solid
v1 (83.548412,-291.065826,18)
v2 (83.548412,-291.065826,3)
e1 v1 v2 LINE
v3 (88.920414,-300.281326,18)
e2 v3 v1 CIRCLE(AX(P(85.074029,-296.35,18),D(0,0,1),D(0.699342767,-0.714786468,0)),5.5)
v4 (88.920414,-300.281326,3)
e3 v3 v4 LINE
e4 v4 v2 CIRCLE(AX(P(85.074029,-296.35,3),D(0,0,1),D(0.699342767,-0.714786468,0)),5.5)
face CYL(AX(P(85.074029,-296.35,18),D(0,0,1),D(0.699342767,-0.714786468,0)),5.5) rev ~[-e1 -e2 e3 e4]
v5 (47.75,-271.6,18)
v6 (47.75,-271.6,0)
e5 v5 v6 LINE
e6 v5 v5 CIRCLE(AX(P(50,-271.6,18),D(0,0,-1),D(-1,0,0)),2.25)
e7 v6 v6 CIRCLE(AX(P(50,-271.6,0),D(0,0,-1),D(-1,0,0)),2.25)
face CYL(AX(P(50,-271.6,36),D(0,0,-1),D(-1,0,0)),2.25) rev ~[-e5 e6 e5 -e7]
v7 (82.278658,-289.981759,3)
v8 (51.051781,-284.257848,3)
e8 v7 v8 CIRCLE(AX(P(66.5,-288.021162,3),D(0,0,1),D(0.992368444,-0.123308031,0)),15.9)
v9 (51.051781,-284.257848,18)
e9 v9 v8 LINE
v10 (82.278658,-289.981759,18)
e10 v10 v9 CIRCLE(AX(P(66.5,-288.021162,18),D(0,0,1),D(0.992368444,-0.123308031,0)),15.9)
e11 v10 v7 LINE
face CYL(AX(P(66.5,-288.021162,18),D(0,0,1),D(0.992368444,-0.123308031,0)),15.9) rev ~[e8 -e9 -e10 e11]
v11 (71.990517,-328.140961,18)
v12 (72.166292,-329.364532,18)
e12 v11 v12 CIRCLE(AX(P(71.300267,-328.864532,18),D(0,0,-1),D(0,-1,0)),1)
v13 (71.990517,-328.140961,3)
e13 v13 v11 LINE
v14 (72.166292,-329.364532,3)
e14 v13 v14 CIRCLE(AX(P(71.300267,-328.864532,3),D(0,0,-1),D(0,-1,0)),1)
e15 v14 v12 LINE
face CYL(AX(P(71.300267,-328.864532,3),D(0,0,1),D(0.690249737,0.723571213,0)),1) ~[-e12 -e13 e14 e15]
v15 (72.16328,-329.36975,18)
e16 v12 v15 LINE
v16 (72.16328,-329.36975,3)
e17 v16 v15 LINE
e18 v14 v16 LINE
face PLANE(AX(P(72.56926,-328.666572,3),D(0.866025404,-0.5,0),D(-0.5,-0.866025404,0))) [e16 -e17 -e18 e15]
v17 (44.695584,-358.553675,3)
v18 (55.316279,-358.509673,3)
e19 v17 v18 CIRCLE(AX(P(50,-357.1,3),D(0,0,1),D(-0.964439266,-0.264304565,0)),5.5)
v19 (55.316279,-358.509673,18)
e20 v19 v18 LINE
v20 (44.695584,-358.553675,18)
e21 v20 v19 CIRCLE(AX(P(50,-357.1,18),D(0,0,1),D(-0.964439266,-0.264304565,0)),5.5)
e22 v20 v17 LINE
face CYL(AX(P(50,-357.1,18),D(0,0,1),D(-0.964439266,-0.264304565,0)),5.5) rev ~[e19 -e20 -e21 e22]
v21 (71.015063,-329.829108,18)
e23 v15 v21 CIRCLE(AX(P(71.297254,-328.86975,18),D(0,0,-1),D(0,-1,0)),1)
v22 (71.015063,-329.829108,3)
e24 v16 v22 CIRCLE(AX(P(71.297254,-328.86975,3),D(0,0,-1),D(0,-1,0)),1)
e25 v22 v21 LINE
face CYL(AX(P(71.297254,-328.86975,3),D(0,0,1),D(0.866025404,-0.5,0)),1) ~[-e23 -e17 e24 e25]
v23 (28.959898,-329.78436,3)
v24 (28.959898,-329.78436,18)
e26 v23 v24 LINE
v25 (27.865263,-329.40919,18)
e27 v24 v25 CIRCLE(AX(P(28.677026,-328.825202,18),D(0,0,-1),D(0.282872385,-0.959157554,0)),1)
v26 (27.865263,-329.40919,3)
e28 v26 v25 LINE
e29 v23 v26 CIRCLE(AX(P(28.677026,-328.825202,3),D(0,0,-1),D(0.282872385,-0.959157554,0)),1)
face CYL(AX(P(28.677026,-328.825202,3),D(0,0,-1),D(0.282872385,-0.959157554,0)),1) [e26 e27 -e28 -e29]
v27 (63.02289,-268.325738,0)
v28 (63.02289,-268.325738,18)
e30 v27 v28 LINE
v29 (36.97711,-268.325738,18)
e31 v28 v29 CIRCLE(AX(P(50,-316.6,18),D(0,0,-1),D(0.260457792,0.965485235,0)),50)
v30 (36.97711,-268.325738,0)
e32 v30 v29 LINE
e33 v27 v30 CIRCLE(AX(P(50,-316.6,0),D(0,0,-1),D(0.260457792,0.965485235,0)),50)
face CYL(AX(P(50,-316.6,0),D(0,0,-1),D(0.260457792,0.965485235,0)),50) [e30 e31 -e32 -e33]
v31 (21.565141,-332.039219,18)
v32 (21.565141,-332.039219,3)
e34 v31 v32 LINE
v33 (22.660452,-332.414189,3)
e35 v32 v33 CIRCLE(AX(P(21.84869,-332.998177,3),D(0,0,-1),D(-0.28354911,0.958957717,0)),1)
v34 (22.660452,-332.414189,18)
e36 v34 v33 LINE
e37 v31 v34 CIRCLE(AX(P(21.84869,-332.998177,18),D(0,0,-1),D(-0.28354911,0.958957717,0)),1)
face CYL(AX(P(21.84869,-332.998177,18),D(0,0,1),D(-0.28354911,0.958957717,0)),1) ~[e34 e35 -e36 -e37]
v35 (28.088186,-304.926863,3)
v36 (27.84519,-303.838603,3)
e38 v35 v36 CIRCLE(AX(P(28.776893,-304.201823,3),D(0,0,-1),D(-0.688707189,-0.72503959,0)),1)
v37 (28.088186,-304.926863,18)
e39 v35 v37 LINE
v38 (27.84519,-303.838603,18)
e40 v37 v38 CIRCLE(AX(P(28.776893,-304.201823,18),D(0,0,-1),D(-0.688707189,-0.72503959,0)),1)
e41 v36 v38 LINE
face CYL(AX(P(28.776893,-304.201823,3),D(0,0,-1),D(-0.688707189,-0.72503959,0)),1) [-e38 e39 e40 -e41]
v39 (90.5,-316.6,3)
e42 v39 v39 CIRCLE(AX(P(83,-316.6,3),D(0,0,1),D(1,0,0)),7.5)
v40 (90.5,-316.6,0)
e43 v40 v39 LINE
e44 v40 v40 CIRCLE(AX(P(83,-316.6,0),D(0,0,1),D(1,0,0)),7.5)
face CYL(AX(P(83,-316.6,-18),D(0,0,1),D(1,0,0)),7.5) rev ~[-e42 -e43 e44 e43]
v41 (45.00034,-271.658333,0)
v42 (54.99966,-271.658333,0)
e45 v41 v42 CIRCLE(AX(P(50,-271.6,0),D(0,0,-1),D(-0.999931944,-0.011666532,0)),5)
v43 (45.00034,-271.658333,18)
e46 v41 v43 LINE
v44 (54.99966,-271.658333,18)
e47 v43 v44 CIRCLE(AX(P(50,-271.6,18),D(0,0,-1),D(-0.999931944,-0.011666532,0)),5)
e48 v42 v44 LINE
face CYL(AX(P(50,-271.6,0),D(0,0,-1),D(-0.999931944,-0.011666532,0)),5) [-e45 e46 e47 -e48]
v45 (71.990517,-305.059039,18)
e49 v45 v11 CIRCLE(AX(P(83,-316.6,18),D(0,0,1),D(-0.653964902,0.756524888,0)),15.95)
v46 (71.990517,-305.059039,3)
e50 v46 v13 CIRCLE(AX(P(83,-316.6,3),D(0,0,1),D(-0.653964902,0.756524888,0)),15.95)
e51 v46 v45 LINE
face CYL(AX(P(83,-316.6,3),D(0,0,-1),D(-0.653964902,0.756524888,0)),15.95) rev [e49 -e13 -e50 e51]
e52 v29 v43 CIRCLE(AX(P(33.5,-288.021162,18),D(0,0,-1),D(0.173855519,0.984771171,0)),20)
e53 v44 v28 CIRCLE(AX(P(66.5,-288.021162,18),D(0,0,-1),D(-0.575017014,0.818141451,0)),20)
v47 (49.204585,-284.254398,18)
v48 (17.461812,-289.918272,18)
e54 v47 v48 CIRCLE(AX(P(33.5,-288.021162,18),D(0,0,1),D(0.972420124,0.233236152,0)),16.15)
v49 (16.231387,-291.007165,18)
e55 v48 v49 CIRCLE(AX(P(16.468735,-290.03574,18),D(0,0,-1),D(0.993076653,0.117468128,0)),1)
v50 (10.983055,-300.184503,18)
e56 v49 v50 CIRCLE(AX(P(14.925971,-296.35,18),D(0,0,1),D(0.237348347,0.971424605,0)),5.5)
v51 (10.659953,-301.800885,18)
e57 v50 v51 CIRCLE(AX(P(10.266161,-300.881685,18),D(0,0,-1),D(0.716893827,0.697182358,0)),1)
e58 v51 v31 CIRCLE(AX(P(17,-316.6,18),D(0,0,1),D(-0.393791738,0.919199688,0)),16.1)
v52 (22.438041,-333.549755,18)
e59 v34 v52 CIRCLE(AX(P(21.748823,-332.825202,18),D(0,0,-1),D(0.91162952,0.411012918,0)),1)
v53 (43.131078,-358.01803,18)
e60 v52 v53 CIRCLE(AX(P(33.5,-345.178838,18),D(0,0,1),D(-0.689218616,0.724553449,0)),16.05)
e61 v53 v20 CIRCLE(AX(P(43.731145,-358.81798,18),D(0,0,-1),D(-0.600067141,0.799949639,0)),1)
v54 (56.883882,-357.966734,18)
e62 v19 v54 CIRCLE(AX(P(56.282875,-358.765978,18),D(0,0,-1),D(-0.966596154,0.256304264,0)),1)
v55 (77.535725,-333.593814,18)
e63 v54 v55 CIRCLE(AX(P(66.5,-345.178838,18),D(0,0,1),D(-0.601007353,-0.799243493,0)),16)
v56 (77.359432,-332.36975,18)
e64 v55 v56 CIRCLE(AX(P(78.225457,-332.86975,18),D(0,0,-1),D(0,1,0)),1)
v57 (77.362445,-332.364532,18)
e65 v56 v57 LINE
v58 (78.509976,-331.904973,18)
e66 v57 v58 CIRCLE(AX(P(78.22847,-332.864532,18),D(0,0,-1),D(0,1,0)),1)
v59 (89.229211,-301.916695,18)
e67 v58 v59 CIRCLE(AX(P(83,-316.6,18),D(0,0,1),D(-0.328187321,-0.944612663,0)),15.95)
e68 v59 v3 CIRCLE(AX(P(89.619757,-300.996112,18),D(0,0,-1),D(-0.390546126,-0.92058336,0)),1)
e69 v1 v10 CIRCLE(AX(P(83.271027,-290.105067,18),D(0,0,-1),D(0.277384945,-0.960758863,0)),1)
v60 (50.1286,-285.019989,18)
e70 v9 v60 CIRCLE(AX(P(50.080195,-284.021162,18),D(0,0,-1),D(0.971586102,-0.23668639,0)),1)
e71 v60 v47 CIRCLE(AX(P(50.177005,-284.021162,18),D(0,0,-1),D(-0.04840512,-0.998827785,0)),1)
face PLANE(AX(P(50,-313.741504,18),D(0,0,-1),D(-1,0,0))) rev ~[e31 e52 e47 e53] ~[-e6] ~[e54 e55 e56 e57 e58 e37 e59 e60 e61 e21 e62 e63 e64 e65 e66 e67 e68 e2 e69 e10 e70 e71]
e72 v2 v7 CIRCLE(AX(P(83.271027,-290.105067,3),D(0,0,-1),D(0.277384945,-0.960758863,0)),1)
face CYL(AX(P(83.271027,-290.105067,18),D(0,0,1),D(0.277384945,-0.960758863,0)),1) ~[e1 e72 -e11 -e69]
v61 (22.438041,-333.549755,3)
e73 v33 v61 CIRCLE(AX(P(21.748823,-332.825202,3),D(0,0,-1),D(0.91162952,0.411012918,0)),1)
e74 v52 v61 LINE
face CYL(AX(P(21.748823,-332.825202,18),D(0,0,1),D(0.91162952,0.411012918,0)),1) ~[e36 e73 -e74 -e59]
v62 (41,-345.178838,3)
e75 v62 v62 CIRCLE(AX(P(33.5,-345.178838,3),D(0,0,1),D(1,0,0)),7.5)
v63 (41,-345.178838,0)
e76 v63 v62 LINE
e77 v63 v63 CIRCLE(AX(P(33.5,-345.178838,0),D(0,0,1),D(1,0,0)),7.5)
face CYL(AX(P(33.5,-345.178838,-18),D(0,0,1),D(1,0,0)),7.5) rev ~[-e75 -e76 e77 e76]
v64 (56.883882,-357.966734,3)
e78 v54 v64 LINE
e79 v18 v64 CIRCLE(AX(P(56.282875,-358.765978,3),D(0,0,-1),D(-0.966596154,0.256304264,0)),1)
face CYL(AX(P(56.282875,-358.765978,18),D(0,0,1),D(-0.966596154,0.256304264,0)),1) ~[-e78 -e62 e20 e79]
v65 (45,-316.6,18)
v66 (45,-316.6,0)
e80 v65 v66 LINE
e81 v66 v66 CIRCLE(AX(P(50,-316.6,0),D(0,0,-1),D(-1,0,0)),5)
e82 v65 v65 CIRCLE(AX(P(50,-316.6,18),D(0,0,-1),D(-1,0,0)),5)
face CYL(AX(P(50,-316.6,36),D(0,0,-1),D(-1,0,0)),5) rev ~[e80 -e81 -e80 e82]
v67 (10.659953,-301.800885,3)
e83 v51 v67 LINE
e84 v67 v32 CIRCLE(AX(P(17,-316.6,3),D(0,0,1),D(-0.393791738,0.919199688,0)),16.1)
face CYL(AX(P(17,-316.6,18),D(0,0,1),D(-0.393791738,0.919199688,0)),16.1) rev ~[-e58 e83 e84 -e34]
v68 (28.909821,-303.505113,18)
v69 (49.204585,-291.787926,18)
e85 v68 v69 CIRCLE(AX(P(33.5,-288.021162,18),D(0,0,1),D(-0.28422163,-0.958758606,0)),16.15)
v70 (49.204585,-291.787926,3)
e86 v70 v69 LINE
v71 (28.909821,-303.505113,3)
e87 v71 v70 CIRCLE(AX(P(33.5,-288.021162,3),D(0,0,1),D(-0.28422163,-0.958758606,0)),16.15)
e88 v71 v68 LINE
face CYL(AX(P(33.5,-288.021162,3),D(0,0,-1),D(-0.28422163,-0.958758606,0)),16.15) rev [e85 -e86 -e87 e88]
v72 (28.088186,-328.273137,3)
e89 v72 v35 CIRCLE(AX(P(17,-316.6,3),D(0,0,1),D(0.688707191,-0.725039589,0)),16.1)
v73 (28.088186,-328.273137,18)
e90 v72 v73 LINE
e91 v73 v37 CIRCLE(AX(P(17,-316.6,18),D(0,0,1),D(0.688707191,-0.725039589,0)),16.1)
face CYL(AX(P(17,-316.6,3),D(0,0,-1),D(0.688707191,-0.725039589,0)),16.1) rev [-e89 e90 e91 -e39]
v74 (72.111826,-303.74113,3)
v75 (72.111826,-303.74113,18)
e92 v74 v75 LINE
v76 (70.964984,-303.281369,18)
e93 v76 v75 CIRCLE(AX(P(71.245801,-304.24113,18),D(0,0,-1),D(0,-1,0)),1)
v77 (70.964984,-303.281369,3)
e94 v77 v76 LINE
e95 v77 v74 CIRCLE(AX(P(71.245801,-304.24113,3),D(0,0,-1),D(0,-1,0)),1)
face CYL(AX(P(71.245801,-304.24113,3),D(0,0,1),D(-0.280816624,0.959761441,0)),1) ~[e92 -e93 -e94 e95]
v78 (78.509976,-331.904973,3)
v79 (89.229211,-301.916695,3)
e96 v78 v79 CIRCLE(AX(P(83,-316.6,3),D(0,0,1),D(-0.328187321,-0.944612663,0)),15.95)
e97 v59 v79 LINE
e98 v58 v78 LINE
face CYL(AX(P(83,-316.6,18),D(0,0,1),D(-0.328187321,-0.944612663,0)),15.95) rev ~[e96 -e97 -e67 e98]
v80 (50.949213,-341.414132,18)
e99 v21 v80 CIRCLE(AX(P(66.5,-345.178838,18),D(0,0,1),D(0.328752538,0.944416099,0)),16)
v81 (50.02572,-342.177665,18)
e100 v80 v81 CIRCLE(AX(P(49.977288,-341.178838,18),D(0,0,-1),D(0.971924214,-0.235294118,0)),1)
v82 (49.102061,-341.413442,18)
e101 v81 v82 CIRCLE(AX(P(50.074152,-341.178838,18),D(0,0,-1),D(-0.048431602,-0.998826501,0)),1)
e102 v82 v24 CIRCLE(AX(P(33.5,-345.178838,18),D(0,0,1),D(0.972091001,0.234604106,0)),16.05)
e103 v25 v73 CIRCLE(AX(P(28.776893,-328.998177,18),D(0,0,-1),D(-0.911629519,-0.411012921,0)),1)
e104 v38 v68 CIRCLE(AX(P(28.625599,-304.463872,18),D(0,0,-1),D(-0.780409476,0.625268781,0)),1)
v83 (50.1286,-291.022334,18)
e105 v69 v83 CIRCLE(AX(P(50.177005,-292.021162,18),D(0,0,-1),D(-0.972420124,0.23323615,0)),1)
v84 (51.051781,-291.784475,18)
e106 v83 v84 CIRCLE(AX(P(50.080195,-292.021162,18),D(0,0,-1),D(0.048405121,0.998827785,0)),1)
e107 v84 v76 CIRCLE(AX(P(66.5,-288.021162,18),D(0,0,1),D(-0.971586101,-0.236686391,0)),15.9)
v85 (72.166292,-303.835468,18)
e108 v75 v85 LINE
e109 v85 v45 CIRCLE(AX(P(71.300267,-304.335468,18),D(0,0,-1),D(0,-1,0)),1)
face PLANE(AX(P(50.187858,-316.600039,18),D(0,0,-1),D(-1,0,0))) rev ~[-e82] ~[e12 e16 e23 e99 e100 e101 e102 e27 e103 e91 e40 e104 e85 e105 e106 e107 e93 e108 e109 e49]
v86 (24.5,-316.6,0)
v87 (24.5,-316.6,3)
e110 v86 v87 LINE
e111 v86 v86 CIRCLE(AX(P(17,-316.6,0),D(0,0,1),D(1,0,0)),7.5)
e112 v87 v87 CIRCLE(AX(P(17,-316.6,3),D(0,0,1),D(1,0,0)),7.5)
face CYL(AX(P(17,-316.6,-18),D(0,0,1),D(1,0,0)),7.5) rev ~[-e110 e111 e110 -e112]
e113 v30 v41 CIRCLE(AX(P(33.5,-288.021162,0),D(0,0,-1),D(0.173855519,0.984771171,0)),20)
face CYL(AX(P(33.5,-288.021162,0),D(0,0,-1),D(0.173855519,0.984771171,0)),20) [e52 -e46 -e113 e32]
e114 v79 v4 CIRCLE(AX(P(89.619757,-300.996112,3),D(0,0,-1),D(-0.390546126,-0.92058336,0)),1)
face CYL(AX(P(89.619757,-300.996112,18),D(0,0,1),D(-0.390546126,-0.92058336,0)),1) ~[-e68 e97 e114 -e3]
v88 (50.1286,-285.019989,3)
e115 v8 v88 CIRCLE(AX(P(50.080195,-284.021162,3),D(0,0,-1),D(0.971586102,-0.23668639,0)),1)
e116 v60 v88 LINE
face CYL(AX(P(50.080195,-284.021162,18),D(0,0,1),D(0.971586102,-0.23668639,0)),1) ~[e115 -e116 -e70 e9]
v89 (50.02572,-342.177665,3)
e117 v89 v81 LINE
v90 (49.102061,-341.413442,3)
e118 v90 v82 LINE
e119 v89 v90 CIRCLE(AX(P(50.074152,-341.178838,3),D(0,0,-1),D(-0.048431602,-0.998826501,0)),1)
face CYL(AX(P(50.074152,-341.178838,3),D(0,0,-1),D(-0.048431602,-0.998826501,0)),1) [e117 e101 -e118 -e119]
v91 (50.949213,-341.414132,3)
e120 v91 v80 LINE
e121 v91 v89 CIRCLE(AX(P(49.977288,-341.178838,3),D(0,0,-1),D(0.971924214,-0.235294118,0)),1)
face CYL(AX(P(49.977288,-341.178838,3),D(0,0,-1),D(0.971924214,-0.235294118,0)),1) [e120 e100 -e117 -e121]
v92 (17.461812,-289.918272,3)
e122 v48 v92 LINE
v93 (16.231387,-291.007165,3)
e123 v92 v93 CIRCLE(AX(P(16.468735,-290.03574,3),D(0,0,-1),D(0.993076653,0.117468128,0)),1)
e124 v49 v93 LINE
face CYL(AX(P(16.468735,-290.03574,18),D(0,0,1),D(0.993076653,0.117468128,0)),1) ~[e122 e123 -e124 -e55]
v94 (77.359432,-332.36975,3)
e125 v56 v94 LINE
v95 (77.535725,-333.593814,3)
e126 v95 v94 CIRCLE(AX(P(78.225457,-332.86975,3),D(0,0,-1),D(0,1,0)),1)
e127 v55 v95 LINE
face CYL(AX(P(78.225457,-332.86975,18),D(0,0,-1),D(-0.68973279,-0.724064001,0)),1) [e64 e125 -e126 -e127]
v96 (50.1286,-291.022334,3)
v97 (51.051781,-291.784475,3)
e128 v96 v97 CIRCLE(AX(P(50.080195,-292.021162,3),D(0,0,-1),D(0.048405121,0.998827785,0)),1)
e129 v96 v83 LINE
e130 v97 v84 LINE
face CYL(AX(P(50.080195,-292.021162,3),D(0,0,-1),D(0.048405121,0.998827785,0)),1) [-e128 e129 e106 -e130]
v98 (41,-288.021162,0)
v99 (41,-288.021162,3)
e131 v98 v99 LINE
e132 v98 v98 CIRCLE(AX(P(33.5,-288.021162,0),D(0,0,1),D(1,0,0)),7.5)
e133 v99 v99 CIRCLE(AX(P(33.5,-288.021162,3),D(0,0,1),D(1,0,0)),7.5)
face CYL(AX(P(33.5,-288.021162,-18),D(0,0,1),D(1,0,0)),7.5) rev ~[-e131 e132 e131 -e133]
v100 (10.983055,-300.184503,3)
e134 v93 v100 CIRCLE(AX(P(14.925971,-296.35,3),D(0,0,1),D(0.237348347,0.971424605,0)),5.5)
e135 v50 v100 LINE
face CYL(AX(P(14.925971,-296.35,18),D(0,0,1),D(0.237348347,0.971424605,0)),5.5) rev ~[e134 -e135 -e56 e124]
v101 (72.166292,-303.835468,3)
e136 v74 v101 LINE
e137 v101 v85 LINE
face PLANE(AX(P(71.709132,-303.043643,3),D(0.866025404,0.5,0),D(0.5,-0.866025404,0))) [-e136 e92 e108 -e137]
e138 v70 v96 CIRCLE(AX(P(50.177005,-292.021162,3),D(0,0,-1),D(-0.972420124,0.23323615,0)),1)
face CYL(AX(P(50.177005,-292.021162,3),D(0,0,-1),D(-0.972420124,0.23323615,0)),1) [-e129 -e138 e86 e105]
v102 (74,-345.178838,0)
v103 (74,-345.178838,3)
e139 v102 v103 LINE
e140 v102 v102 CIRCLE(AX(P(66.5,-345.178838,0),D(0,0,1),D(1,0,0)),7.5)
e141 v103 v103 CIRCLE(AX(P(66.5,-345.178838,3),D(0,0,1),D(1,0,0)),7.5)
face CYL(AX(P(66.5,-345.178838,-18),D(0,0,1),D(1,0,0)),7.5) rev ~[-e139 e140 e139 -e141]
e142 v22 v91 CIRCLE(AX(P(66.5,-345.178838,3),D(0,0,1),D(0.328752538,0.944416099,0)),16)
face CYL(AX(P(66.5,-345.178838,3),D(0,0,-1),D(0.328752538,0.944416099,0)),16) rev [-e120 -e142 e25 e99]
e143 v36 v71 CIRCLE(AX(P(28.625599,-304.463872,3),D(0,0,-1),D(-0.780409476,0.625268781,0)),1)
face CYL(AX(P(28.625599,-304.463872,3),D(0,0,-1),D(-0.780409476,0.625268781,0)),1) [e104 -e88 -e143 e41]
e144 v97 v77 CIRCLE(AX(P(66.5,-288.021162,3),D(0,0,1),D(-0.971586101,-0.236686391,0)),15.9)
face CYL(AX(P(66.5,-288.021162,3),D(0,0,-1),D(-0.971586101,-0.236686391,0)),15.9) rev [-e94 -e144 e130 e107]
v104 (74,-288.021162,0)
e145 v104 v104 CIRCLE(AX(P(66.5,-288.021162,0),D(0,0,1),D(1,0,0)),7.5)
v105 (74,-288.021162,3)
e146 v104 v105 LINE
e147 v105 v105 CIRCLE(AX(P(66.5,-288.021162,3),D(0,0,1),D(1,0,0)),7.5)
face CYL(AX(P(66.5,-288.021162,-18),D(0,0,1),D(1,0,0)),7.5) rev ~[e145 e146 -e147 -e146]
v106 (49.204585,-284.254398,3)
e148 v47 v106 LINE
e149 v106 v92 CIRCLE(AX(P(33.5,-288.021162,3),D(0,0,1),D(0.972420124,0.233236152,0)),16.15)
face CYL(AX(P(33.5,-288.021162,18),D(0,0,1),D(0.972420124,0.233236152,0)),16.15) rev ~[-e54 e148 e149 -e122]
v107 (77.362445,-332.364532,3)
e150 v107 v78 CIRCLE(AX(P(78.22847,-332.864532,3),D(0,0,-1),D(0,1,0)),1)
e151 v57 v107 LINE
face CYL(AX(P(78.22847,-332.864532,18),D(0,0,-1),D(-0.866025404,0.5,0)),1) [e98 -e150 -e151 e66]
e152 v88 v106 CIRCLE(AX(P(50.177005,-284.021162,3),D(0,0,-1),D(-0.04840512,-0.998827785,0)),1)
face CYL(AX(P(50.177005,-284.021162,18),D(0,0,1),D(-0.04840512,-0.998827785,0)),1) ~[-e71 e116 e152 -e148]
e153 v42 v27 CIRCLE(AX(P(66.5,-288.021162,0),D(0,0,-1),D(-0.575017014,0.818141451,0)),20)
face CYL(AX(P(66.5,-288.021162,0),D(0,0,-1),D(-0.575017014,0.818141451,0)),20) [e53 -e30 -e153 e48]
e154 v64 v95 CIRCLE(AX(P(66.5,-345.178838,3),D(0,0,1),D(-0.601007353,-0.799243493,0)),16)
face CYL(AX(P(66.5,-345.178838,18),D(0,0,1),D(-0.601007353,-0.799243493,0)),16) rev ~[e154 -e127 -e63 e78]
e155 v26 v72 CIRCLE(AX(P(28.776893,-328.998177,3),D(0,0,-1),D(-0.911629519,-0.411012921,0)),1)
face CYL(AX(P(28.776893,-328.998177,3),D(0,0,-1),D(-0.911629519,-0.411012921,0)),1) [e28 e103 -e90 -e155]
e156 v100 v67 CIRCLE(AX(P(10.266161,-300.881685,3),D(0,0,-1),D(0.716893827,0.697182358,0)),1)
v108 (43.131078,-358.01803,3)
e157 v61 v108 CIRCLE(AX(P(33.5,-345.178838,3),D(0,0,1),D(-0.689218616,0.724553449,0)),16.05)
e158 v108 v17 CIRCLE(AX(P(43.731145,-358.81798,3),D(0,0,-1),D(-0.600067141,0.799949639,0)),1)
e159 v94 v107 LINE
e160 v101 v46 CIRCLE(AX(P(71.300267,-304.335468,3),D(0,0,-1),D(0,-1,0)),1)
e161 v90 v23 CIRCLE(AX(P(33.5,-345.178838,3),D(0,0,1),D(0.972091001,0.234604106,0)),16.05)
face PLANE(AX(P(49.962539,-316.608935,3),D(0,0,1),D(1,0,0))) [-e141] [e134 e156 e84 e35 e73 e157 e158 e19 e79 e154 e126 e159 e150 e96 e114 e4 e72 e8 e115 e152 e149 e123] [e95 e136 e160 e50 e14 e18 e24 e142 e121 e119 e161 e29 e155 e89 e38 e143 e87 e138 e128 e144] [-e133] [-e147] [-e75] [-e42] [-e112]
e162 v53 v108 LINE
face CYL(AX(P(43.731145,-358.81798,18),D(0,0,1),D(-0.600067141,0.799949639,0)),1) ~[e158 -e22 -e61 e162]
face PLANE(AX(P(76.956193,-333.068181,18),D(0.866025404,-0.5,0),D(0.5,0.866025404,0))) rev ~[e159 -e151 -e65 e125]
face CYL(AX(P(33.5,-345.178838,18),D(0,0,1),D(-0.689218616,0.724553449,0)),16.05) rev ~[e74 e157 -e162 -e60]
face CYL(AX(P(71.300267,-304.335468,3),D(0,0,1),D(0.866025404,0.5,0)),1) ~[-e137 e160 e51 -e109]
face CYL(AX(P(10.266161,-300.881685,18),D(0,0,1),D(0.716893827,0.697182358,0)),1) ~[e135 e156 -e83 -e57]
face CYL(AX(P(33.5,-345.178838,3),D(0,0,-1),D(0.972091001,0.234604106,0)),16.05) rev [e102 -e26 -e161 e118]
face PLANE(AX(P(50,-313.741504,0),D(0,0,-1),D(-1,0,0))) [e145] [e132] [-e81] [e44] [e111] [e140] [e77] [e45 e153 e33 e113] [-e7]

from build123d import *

# Parameters (mm, degrees)
EXTRUDE_1_DEPTH             = 18
CUT_EXTRUDE_1_DEPTH         = 15
EXTRUDE_2_DEPTH             = 15
HOLE_WIZARD_4_5_4_5_1_D     = 4.5
HOLE_WIZARD_4_5_4_5_1_DEPTH = 18
HOLE_WIZARD_10_0_10_1_D     = 10
HOLE_WIZARD_10_0_10_1_DEPTH = 18
HOLE_WIZARD_15_0_15_1_D     = 15
HOLE_WIZARD_15_0_15_1_DEPTH = 18
FILLET_1_R                  = 1


with BuildPart() as part:
    # 草图1 → 凸台-拉伸1 (new body)
    with BuildSketch(Plane(origin=(0, 0, 0), x_dir=(-1, 0, 0), z_dir=(0, 0, -1))):
        with BuildLine():
            ThreePointArc((-63.022889612, -268.325738264), (-50, -366.6), (-36.977110388, -268.325738264))
            ThreePointArc((-36.977110388, -268.325738264), (-41.171867667, -269.55111981), (-45.000340281, -271.658332659))
            ThreePointArc((-45.000340281, -271.658332659), (-50, -266.6), (-54.999659719, -271.658332659))
            ThreePointArc((-54.999659719, -271.658332659), (-58.828132333, -269.55111981), (-63.022889612, -268.325738264))
        make_face()
    extrude(amount=-EXTRUDE_1_DEPTH)

    # 草图2 → 切除-拉伸1 (cut)
    with BuildSketch(Plane.XY.offset(18)):
        with BuildLine():
            Line((76.956193034, -333.068180736), (77.765412233, -331.666571969))
            ThreePointArc((77.765412233, -331.666571969), (97.88324923, -322.335101774), (89.229210711, -301.916695402))
            ThreePointArc((89.229210711, -301.916695402), (88.637121061, -301.181657), (88.92041407, -300.281325574))
            ThreePointArc((88.92041407, -300.281325574), (89.825644155, -293.580135017), (83.548411657, -291.065826255))
            ThreePointArc((83.548411657, -291.065826255), (82.62171892, -290.865593126), (82.278658267, -289.981759362))
            ThreePointArc((82.278658267, -289.981759362), (69.366720715, -272.381727147), (51.051780987, -284.257848066))
            ThreePointArc((51.051780987, -284.257848066), (50.716834815, -284.792322878), (50.128600006, -285.01998946))
            ThreePointArc((50.128600006, -285.01998946), (49.538997539, -284.791191751), (49.204585003, -284.254397827))
            ThreePointArc((49.204585003, -284.254397827), (30.663154881, -272.122268325), (17.461812053, -289.918271942))
            ThreePointArc((17.461812053, -289.918271942), (17.131459448, -290.784603767), (16.231387053, -291.007164675))
            ThreePointArc((16.231387053, -291.007164675), (10.151561622, -293.619612904), (10.9830551, -300.184502973))
            ThreePointArc((10.9830551, -300.184502973), (11.246762281, -301.077699779), (10.659953012, -301.80088502))
            ThreePointArc((10.659953012, -301.80088502), (1.85480976, -322.061978817), (21.565140626, -332.039219251))
            ThreePointArc((21.565140626, -332.039219251), (22.17257693, -332.052081262), (22.660452123, -332.414189106))
            ThreePointArc((22.660452123, -332.414189106), (22.73017699, -333.017409123), (22.438041219, -333.549755475))
            ThreePointArc((22.438041219, -333.549755475), (21.244961438, -355.543032932), (43.131077631, -358.018030031))
            ThreePointArc((43.131077631, -358.018030031), (44.05505938, -357.871893349), (44.695584039, -358.553675105))
            ThreePointArc((44.695584039, -358.553675105), (50.022786366, -362.599952798), (55.316278846, -358.509673449))
            ThreePointArc((55.316278846, -358.509673449), (55.955599054, -357.821048903), (56.883882353, -357.966734219))
            ThreePointArc((56.883882353, -357.966734219), (78.956360747, -355.220704534), (76.956193034, -333.068180736))
        make_face()
    extrude(amount=-CUT_EXTRUDE_1_DEPTH, mode=Mode.SUBTRACT)

    # 草图3 → 凸台-拉伸2 (add)
    with BuildSketch(Plane.XY.offset(3)):
        with BuildLine():
            Line((71.709131996, -303.043642956), (72.56925981, -304.533428031))
            ThreePointArc((72.56925981, -304.533428031), (67.05, -316.6), (72.56925981, -328.666571969))
            Line((72.56925981, -328.666571969), (71.760040611, -330.068180736))
            ThreePointArc((71.760040611, -330.068180736), (58.841180082, -331.130974521), (50.949212572, -341.414132443))
            ThreePointArc((50.949212572, -341.414132443), (50.614490777, -341.949534813), (50.02571996, -342.177664826))
            ThreePointArc((50.02571996, -342.177664826), (49.436675631, -341.949308595), (49.102060561, -341.41344243))
            ThreePointArc((49.102060561, -341.41344243), (41.525, -331.279130594), (28.959898219, -329.78435958))
            ThreePointArc((28.959898219, -329.78435958), (28.35280487, -329.771183403), (27.865263445, -329.409189888))
            ThreePointArc((27.865263445, -329.409189888), (27.79560645, -328.805623655), (28.088185773, -328.273137379))
            ThreePointArc((28.088185773, -328.273137379), (33.1, -316.6), (28.088185773, -304.926862621))
            ThreePointArc((28.088185773, -304.926862621), (27.800926844, -304.419745345), (27.845189576, -303.838602992))
            ThreePointArc((27.845189576, -303.838602992), (28.326676887, -303.509594278), (28.909820681, -303.505113168))
            ThreePointArc((28.909820681, -303.505113168), (41.575, -302.007471946), (49.204585003, -291.787925524))
            ThreePointArc((49.204585003, -291.787925524), (49.538997539, -291.251131599), (50.128600006, -291.02233389))
            ThreePointArc((50.128600006, -291.02233389), (50.716834815, -291.250000473), (51.051780987, -291.784475285))
            ThreePointArc((51.051780987, -291.784475285), (58.890667579, -301.982109354), (71.709131996, -303.043642956))
        make_face()
    extrude(amount=EXTRUDE_2_DEPTH)

    # Ø4.5 (4.5) 直径孔1
    with Locations(Plane.XY.offset(18)):
        with Locations((50, -271.6)):
            Hole(HOLE_WIZARD_4_5_4_5_1_D / 2, depth=HOLE_WIZARD_4_5_4_5_1_DEPTH)

    # Ø10.0 (10) 直径孔1
    with Locations(Plane.XY.offset(18)):
        with Locations((50, -316.6)):
            Hole(HOLE_WIZARD_10_0_10_1_D / 2, depth=HOLE_WIZARD_10_0_10_1_DEPTH)

    # Ø15.0 (15) 直径孔1
    with Locations(Plane(origin=(0, 0, 0), x_dir=(-1, 0, 0), z_dir=(0, 0, -1))):
        with Locations((-33.5, -288.021161675), (-83, -316.6), (-66.5, -345.178838325), (-33.5, -345.178838325), (-66.5, -288.021161675), (-17, -316.6)):
            Hole(HOLE_WIZARD_15_0_15_1_D / 2, depth=HOLE_WIZARD_15_0_15_1_DEPTH)

    # 圆角1
    fillet_1_edges = [part.edges().sort_by_distance(p)[0] for p in [
        (77.765412233, -331.666571969, 10.5),
        (76.956193034, -333.068180736, 10.5),
        (71.760040611, -330.068180736, 10.5),
        (72.56925981, -328.666571969, 10.5),
        (72.56925981, -304.533428031, 10.5),
        (71.709131996, -303.043642956, 10.5),
    ]]
    fillet(fillet_1_edges, radius=FILLET_1_R)


solid = part.part
